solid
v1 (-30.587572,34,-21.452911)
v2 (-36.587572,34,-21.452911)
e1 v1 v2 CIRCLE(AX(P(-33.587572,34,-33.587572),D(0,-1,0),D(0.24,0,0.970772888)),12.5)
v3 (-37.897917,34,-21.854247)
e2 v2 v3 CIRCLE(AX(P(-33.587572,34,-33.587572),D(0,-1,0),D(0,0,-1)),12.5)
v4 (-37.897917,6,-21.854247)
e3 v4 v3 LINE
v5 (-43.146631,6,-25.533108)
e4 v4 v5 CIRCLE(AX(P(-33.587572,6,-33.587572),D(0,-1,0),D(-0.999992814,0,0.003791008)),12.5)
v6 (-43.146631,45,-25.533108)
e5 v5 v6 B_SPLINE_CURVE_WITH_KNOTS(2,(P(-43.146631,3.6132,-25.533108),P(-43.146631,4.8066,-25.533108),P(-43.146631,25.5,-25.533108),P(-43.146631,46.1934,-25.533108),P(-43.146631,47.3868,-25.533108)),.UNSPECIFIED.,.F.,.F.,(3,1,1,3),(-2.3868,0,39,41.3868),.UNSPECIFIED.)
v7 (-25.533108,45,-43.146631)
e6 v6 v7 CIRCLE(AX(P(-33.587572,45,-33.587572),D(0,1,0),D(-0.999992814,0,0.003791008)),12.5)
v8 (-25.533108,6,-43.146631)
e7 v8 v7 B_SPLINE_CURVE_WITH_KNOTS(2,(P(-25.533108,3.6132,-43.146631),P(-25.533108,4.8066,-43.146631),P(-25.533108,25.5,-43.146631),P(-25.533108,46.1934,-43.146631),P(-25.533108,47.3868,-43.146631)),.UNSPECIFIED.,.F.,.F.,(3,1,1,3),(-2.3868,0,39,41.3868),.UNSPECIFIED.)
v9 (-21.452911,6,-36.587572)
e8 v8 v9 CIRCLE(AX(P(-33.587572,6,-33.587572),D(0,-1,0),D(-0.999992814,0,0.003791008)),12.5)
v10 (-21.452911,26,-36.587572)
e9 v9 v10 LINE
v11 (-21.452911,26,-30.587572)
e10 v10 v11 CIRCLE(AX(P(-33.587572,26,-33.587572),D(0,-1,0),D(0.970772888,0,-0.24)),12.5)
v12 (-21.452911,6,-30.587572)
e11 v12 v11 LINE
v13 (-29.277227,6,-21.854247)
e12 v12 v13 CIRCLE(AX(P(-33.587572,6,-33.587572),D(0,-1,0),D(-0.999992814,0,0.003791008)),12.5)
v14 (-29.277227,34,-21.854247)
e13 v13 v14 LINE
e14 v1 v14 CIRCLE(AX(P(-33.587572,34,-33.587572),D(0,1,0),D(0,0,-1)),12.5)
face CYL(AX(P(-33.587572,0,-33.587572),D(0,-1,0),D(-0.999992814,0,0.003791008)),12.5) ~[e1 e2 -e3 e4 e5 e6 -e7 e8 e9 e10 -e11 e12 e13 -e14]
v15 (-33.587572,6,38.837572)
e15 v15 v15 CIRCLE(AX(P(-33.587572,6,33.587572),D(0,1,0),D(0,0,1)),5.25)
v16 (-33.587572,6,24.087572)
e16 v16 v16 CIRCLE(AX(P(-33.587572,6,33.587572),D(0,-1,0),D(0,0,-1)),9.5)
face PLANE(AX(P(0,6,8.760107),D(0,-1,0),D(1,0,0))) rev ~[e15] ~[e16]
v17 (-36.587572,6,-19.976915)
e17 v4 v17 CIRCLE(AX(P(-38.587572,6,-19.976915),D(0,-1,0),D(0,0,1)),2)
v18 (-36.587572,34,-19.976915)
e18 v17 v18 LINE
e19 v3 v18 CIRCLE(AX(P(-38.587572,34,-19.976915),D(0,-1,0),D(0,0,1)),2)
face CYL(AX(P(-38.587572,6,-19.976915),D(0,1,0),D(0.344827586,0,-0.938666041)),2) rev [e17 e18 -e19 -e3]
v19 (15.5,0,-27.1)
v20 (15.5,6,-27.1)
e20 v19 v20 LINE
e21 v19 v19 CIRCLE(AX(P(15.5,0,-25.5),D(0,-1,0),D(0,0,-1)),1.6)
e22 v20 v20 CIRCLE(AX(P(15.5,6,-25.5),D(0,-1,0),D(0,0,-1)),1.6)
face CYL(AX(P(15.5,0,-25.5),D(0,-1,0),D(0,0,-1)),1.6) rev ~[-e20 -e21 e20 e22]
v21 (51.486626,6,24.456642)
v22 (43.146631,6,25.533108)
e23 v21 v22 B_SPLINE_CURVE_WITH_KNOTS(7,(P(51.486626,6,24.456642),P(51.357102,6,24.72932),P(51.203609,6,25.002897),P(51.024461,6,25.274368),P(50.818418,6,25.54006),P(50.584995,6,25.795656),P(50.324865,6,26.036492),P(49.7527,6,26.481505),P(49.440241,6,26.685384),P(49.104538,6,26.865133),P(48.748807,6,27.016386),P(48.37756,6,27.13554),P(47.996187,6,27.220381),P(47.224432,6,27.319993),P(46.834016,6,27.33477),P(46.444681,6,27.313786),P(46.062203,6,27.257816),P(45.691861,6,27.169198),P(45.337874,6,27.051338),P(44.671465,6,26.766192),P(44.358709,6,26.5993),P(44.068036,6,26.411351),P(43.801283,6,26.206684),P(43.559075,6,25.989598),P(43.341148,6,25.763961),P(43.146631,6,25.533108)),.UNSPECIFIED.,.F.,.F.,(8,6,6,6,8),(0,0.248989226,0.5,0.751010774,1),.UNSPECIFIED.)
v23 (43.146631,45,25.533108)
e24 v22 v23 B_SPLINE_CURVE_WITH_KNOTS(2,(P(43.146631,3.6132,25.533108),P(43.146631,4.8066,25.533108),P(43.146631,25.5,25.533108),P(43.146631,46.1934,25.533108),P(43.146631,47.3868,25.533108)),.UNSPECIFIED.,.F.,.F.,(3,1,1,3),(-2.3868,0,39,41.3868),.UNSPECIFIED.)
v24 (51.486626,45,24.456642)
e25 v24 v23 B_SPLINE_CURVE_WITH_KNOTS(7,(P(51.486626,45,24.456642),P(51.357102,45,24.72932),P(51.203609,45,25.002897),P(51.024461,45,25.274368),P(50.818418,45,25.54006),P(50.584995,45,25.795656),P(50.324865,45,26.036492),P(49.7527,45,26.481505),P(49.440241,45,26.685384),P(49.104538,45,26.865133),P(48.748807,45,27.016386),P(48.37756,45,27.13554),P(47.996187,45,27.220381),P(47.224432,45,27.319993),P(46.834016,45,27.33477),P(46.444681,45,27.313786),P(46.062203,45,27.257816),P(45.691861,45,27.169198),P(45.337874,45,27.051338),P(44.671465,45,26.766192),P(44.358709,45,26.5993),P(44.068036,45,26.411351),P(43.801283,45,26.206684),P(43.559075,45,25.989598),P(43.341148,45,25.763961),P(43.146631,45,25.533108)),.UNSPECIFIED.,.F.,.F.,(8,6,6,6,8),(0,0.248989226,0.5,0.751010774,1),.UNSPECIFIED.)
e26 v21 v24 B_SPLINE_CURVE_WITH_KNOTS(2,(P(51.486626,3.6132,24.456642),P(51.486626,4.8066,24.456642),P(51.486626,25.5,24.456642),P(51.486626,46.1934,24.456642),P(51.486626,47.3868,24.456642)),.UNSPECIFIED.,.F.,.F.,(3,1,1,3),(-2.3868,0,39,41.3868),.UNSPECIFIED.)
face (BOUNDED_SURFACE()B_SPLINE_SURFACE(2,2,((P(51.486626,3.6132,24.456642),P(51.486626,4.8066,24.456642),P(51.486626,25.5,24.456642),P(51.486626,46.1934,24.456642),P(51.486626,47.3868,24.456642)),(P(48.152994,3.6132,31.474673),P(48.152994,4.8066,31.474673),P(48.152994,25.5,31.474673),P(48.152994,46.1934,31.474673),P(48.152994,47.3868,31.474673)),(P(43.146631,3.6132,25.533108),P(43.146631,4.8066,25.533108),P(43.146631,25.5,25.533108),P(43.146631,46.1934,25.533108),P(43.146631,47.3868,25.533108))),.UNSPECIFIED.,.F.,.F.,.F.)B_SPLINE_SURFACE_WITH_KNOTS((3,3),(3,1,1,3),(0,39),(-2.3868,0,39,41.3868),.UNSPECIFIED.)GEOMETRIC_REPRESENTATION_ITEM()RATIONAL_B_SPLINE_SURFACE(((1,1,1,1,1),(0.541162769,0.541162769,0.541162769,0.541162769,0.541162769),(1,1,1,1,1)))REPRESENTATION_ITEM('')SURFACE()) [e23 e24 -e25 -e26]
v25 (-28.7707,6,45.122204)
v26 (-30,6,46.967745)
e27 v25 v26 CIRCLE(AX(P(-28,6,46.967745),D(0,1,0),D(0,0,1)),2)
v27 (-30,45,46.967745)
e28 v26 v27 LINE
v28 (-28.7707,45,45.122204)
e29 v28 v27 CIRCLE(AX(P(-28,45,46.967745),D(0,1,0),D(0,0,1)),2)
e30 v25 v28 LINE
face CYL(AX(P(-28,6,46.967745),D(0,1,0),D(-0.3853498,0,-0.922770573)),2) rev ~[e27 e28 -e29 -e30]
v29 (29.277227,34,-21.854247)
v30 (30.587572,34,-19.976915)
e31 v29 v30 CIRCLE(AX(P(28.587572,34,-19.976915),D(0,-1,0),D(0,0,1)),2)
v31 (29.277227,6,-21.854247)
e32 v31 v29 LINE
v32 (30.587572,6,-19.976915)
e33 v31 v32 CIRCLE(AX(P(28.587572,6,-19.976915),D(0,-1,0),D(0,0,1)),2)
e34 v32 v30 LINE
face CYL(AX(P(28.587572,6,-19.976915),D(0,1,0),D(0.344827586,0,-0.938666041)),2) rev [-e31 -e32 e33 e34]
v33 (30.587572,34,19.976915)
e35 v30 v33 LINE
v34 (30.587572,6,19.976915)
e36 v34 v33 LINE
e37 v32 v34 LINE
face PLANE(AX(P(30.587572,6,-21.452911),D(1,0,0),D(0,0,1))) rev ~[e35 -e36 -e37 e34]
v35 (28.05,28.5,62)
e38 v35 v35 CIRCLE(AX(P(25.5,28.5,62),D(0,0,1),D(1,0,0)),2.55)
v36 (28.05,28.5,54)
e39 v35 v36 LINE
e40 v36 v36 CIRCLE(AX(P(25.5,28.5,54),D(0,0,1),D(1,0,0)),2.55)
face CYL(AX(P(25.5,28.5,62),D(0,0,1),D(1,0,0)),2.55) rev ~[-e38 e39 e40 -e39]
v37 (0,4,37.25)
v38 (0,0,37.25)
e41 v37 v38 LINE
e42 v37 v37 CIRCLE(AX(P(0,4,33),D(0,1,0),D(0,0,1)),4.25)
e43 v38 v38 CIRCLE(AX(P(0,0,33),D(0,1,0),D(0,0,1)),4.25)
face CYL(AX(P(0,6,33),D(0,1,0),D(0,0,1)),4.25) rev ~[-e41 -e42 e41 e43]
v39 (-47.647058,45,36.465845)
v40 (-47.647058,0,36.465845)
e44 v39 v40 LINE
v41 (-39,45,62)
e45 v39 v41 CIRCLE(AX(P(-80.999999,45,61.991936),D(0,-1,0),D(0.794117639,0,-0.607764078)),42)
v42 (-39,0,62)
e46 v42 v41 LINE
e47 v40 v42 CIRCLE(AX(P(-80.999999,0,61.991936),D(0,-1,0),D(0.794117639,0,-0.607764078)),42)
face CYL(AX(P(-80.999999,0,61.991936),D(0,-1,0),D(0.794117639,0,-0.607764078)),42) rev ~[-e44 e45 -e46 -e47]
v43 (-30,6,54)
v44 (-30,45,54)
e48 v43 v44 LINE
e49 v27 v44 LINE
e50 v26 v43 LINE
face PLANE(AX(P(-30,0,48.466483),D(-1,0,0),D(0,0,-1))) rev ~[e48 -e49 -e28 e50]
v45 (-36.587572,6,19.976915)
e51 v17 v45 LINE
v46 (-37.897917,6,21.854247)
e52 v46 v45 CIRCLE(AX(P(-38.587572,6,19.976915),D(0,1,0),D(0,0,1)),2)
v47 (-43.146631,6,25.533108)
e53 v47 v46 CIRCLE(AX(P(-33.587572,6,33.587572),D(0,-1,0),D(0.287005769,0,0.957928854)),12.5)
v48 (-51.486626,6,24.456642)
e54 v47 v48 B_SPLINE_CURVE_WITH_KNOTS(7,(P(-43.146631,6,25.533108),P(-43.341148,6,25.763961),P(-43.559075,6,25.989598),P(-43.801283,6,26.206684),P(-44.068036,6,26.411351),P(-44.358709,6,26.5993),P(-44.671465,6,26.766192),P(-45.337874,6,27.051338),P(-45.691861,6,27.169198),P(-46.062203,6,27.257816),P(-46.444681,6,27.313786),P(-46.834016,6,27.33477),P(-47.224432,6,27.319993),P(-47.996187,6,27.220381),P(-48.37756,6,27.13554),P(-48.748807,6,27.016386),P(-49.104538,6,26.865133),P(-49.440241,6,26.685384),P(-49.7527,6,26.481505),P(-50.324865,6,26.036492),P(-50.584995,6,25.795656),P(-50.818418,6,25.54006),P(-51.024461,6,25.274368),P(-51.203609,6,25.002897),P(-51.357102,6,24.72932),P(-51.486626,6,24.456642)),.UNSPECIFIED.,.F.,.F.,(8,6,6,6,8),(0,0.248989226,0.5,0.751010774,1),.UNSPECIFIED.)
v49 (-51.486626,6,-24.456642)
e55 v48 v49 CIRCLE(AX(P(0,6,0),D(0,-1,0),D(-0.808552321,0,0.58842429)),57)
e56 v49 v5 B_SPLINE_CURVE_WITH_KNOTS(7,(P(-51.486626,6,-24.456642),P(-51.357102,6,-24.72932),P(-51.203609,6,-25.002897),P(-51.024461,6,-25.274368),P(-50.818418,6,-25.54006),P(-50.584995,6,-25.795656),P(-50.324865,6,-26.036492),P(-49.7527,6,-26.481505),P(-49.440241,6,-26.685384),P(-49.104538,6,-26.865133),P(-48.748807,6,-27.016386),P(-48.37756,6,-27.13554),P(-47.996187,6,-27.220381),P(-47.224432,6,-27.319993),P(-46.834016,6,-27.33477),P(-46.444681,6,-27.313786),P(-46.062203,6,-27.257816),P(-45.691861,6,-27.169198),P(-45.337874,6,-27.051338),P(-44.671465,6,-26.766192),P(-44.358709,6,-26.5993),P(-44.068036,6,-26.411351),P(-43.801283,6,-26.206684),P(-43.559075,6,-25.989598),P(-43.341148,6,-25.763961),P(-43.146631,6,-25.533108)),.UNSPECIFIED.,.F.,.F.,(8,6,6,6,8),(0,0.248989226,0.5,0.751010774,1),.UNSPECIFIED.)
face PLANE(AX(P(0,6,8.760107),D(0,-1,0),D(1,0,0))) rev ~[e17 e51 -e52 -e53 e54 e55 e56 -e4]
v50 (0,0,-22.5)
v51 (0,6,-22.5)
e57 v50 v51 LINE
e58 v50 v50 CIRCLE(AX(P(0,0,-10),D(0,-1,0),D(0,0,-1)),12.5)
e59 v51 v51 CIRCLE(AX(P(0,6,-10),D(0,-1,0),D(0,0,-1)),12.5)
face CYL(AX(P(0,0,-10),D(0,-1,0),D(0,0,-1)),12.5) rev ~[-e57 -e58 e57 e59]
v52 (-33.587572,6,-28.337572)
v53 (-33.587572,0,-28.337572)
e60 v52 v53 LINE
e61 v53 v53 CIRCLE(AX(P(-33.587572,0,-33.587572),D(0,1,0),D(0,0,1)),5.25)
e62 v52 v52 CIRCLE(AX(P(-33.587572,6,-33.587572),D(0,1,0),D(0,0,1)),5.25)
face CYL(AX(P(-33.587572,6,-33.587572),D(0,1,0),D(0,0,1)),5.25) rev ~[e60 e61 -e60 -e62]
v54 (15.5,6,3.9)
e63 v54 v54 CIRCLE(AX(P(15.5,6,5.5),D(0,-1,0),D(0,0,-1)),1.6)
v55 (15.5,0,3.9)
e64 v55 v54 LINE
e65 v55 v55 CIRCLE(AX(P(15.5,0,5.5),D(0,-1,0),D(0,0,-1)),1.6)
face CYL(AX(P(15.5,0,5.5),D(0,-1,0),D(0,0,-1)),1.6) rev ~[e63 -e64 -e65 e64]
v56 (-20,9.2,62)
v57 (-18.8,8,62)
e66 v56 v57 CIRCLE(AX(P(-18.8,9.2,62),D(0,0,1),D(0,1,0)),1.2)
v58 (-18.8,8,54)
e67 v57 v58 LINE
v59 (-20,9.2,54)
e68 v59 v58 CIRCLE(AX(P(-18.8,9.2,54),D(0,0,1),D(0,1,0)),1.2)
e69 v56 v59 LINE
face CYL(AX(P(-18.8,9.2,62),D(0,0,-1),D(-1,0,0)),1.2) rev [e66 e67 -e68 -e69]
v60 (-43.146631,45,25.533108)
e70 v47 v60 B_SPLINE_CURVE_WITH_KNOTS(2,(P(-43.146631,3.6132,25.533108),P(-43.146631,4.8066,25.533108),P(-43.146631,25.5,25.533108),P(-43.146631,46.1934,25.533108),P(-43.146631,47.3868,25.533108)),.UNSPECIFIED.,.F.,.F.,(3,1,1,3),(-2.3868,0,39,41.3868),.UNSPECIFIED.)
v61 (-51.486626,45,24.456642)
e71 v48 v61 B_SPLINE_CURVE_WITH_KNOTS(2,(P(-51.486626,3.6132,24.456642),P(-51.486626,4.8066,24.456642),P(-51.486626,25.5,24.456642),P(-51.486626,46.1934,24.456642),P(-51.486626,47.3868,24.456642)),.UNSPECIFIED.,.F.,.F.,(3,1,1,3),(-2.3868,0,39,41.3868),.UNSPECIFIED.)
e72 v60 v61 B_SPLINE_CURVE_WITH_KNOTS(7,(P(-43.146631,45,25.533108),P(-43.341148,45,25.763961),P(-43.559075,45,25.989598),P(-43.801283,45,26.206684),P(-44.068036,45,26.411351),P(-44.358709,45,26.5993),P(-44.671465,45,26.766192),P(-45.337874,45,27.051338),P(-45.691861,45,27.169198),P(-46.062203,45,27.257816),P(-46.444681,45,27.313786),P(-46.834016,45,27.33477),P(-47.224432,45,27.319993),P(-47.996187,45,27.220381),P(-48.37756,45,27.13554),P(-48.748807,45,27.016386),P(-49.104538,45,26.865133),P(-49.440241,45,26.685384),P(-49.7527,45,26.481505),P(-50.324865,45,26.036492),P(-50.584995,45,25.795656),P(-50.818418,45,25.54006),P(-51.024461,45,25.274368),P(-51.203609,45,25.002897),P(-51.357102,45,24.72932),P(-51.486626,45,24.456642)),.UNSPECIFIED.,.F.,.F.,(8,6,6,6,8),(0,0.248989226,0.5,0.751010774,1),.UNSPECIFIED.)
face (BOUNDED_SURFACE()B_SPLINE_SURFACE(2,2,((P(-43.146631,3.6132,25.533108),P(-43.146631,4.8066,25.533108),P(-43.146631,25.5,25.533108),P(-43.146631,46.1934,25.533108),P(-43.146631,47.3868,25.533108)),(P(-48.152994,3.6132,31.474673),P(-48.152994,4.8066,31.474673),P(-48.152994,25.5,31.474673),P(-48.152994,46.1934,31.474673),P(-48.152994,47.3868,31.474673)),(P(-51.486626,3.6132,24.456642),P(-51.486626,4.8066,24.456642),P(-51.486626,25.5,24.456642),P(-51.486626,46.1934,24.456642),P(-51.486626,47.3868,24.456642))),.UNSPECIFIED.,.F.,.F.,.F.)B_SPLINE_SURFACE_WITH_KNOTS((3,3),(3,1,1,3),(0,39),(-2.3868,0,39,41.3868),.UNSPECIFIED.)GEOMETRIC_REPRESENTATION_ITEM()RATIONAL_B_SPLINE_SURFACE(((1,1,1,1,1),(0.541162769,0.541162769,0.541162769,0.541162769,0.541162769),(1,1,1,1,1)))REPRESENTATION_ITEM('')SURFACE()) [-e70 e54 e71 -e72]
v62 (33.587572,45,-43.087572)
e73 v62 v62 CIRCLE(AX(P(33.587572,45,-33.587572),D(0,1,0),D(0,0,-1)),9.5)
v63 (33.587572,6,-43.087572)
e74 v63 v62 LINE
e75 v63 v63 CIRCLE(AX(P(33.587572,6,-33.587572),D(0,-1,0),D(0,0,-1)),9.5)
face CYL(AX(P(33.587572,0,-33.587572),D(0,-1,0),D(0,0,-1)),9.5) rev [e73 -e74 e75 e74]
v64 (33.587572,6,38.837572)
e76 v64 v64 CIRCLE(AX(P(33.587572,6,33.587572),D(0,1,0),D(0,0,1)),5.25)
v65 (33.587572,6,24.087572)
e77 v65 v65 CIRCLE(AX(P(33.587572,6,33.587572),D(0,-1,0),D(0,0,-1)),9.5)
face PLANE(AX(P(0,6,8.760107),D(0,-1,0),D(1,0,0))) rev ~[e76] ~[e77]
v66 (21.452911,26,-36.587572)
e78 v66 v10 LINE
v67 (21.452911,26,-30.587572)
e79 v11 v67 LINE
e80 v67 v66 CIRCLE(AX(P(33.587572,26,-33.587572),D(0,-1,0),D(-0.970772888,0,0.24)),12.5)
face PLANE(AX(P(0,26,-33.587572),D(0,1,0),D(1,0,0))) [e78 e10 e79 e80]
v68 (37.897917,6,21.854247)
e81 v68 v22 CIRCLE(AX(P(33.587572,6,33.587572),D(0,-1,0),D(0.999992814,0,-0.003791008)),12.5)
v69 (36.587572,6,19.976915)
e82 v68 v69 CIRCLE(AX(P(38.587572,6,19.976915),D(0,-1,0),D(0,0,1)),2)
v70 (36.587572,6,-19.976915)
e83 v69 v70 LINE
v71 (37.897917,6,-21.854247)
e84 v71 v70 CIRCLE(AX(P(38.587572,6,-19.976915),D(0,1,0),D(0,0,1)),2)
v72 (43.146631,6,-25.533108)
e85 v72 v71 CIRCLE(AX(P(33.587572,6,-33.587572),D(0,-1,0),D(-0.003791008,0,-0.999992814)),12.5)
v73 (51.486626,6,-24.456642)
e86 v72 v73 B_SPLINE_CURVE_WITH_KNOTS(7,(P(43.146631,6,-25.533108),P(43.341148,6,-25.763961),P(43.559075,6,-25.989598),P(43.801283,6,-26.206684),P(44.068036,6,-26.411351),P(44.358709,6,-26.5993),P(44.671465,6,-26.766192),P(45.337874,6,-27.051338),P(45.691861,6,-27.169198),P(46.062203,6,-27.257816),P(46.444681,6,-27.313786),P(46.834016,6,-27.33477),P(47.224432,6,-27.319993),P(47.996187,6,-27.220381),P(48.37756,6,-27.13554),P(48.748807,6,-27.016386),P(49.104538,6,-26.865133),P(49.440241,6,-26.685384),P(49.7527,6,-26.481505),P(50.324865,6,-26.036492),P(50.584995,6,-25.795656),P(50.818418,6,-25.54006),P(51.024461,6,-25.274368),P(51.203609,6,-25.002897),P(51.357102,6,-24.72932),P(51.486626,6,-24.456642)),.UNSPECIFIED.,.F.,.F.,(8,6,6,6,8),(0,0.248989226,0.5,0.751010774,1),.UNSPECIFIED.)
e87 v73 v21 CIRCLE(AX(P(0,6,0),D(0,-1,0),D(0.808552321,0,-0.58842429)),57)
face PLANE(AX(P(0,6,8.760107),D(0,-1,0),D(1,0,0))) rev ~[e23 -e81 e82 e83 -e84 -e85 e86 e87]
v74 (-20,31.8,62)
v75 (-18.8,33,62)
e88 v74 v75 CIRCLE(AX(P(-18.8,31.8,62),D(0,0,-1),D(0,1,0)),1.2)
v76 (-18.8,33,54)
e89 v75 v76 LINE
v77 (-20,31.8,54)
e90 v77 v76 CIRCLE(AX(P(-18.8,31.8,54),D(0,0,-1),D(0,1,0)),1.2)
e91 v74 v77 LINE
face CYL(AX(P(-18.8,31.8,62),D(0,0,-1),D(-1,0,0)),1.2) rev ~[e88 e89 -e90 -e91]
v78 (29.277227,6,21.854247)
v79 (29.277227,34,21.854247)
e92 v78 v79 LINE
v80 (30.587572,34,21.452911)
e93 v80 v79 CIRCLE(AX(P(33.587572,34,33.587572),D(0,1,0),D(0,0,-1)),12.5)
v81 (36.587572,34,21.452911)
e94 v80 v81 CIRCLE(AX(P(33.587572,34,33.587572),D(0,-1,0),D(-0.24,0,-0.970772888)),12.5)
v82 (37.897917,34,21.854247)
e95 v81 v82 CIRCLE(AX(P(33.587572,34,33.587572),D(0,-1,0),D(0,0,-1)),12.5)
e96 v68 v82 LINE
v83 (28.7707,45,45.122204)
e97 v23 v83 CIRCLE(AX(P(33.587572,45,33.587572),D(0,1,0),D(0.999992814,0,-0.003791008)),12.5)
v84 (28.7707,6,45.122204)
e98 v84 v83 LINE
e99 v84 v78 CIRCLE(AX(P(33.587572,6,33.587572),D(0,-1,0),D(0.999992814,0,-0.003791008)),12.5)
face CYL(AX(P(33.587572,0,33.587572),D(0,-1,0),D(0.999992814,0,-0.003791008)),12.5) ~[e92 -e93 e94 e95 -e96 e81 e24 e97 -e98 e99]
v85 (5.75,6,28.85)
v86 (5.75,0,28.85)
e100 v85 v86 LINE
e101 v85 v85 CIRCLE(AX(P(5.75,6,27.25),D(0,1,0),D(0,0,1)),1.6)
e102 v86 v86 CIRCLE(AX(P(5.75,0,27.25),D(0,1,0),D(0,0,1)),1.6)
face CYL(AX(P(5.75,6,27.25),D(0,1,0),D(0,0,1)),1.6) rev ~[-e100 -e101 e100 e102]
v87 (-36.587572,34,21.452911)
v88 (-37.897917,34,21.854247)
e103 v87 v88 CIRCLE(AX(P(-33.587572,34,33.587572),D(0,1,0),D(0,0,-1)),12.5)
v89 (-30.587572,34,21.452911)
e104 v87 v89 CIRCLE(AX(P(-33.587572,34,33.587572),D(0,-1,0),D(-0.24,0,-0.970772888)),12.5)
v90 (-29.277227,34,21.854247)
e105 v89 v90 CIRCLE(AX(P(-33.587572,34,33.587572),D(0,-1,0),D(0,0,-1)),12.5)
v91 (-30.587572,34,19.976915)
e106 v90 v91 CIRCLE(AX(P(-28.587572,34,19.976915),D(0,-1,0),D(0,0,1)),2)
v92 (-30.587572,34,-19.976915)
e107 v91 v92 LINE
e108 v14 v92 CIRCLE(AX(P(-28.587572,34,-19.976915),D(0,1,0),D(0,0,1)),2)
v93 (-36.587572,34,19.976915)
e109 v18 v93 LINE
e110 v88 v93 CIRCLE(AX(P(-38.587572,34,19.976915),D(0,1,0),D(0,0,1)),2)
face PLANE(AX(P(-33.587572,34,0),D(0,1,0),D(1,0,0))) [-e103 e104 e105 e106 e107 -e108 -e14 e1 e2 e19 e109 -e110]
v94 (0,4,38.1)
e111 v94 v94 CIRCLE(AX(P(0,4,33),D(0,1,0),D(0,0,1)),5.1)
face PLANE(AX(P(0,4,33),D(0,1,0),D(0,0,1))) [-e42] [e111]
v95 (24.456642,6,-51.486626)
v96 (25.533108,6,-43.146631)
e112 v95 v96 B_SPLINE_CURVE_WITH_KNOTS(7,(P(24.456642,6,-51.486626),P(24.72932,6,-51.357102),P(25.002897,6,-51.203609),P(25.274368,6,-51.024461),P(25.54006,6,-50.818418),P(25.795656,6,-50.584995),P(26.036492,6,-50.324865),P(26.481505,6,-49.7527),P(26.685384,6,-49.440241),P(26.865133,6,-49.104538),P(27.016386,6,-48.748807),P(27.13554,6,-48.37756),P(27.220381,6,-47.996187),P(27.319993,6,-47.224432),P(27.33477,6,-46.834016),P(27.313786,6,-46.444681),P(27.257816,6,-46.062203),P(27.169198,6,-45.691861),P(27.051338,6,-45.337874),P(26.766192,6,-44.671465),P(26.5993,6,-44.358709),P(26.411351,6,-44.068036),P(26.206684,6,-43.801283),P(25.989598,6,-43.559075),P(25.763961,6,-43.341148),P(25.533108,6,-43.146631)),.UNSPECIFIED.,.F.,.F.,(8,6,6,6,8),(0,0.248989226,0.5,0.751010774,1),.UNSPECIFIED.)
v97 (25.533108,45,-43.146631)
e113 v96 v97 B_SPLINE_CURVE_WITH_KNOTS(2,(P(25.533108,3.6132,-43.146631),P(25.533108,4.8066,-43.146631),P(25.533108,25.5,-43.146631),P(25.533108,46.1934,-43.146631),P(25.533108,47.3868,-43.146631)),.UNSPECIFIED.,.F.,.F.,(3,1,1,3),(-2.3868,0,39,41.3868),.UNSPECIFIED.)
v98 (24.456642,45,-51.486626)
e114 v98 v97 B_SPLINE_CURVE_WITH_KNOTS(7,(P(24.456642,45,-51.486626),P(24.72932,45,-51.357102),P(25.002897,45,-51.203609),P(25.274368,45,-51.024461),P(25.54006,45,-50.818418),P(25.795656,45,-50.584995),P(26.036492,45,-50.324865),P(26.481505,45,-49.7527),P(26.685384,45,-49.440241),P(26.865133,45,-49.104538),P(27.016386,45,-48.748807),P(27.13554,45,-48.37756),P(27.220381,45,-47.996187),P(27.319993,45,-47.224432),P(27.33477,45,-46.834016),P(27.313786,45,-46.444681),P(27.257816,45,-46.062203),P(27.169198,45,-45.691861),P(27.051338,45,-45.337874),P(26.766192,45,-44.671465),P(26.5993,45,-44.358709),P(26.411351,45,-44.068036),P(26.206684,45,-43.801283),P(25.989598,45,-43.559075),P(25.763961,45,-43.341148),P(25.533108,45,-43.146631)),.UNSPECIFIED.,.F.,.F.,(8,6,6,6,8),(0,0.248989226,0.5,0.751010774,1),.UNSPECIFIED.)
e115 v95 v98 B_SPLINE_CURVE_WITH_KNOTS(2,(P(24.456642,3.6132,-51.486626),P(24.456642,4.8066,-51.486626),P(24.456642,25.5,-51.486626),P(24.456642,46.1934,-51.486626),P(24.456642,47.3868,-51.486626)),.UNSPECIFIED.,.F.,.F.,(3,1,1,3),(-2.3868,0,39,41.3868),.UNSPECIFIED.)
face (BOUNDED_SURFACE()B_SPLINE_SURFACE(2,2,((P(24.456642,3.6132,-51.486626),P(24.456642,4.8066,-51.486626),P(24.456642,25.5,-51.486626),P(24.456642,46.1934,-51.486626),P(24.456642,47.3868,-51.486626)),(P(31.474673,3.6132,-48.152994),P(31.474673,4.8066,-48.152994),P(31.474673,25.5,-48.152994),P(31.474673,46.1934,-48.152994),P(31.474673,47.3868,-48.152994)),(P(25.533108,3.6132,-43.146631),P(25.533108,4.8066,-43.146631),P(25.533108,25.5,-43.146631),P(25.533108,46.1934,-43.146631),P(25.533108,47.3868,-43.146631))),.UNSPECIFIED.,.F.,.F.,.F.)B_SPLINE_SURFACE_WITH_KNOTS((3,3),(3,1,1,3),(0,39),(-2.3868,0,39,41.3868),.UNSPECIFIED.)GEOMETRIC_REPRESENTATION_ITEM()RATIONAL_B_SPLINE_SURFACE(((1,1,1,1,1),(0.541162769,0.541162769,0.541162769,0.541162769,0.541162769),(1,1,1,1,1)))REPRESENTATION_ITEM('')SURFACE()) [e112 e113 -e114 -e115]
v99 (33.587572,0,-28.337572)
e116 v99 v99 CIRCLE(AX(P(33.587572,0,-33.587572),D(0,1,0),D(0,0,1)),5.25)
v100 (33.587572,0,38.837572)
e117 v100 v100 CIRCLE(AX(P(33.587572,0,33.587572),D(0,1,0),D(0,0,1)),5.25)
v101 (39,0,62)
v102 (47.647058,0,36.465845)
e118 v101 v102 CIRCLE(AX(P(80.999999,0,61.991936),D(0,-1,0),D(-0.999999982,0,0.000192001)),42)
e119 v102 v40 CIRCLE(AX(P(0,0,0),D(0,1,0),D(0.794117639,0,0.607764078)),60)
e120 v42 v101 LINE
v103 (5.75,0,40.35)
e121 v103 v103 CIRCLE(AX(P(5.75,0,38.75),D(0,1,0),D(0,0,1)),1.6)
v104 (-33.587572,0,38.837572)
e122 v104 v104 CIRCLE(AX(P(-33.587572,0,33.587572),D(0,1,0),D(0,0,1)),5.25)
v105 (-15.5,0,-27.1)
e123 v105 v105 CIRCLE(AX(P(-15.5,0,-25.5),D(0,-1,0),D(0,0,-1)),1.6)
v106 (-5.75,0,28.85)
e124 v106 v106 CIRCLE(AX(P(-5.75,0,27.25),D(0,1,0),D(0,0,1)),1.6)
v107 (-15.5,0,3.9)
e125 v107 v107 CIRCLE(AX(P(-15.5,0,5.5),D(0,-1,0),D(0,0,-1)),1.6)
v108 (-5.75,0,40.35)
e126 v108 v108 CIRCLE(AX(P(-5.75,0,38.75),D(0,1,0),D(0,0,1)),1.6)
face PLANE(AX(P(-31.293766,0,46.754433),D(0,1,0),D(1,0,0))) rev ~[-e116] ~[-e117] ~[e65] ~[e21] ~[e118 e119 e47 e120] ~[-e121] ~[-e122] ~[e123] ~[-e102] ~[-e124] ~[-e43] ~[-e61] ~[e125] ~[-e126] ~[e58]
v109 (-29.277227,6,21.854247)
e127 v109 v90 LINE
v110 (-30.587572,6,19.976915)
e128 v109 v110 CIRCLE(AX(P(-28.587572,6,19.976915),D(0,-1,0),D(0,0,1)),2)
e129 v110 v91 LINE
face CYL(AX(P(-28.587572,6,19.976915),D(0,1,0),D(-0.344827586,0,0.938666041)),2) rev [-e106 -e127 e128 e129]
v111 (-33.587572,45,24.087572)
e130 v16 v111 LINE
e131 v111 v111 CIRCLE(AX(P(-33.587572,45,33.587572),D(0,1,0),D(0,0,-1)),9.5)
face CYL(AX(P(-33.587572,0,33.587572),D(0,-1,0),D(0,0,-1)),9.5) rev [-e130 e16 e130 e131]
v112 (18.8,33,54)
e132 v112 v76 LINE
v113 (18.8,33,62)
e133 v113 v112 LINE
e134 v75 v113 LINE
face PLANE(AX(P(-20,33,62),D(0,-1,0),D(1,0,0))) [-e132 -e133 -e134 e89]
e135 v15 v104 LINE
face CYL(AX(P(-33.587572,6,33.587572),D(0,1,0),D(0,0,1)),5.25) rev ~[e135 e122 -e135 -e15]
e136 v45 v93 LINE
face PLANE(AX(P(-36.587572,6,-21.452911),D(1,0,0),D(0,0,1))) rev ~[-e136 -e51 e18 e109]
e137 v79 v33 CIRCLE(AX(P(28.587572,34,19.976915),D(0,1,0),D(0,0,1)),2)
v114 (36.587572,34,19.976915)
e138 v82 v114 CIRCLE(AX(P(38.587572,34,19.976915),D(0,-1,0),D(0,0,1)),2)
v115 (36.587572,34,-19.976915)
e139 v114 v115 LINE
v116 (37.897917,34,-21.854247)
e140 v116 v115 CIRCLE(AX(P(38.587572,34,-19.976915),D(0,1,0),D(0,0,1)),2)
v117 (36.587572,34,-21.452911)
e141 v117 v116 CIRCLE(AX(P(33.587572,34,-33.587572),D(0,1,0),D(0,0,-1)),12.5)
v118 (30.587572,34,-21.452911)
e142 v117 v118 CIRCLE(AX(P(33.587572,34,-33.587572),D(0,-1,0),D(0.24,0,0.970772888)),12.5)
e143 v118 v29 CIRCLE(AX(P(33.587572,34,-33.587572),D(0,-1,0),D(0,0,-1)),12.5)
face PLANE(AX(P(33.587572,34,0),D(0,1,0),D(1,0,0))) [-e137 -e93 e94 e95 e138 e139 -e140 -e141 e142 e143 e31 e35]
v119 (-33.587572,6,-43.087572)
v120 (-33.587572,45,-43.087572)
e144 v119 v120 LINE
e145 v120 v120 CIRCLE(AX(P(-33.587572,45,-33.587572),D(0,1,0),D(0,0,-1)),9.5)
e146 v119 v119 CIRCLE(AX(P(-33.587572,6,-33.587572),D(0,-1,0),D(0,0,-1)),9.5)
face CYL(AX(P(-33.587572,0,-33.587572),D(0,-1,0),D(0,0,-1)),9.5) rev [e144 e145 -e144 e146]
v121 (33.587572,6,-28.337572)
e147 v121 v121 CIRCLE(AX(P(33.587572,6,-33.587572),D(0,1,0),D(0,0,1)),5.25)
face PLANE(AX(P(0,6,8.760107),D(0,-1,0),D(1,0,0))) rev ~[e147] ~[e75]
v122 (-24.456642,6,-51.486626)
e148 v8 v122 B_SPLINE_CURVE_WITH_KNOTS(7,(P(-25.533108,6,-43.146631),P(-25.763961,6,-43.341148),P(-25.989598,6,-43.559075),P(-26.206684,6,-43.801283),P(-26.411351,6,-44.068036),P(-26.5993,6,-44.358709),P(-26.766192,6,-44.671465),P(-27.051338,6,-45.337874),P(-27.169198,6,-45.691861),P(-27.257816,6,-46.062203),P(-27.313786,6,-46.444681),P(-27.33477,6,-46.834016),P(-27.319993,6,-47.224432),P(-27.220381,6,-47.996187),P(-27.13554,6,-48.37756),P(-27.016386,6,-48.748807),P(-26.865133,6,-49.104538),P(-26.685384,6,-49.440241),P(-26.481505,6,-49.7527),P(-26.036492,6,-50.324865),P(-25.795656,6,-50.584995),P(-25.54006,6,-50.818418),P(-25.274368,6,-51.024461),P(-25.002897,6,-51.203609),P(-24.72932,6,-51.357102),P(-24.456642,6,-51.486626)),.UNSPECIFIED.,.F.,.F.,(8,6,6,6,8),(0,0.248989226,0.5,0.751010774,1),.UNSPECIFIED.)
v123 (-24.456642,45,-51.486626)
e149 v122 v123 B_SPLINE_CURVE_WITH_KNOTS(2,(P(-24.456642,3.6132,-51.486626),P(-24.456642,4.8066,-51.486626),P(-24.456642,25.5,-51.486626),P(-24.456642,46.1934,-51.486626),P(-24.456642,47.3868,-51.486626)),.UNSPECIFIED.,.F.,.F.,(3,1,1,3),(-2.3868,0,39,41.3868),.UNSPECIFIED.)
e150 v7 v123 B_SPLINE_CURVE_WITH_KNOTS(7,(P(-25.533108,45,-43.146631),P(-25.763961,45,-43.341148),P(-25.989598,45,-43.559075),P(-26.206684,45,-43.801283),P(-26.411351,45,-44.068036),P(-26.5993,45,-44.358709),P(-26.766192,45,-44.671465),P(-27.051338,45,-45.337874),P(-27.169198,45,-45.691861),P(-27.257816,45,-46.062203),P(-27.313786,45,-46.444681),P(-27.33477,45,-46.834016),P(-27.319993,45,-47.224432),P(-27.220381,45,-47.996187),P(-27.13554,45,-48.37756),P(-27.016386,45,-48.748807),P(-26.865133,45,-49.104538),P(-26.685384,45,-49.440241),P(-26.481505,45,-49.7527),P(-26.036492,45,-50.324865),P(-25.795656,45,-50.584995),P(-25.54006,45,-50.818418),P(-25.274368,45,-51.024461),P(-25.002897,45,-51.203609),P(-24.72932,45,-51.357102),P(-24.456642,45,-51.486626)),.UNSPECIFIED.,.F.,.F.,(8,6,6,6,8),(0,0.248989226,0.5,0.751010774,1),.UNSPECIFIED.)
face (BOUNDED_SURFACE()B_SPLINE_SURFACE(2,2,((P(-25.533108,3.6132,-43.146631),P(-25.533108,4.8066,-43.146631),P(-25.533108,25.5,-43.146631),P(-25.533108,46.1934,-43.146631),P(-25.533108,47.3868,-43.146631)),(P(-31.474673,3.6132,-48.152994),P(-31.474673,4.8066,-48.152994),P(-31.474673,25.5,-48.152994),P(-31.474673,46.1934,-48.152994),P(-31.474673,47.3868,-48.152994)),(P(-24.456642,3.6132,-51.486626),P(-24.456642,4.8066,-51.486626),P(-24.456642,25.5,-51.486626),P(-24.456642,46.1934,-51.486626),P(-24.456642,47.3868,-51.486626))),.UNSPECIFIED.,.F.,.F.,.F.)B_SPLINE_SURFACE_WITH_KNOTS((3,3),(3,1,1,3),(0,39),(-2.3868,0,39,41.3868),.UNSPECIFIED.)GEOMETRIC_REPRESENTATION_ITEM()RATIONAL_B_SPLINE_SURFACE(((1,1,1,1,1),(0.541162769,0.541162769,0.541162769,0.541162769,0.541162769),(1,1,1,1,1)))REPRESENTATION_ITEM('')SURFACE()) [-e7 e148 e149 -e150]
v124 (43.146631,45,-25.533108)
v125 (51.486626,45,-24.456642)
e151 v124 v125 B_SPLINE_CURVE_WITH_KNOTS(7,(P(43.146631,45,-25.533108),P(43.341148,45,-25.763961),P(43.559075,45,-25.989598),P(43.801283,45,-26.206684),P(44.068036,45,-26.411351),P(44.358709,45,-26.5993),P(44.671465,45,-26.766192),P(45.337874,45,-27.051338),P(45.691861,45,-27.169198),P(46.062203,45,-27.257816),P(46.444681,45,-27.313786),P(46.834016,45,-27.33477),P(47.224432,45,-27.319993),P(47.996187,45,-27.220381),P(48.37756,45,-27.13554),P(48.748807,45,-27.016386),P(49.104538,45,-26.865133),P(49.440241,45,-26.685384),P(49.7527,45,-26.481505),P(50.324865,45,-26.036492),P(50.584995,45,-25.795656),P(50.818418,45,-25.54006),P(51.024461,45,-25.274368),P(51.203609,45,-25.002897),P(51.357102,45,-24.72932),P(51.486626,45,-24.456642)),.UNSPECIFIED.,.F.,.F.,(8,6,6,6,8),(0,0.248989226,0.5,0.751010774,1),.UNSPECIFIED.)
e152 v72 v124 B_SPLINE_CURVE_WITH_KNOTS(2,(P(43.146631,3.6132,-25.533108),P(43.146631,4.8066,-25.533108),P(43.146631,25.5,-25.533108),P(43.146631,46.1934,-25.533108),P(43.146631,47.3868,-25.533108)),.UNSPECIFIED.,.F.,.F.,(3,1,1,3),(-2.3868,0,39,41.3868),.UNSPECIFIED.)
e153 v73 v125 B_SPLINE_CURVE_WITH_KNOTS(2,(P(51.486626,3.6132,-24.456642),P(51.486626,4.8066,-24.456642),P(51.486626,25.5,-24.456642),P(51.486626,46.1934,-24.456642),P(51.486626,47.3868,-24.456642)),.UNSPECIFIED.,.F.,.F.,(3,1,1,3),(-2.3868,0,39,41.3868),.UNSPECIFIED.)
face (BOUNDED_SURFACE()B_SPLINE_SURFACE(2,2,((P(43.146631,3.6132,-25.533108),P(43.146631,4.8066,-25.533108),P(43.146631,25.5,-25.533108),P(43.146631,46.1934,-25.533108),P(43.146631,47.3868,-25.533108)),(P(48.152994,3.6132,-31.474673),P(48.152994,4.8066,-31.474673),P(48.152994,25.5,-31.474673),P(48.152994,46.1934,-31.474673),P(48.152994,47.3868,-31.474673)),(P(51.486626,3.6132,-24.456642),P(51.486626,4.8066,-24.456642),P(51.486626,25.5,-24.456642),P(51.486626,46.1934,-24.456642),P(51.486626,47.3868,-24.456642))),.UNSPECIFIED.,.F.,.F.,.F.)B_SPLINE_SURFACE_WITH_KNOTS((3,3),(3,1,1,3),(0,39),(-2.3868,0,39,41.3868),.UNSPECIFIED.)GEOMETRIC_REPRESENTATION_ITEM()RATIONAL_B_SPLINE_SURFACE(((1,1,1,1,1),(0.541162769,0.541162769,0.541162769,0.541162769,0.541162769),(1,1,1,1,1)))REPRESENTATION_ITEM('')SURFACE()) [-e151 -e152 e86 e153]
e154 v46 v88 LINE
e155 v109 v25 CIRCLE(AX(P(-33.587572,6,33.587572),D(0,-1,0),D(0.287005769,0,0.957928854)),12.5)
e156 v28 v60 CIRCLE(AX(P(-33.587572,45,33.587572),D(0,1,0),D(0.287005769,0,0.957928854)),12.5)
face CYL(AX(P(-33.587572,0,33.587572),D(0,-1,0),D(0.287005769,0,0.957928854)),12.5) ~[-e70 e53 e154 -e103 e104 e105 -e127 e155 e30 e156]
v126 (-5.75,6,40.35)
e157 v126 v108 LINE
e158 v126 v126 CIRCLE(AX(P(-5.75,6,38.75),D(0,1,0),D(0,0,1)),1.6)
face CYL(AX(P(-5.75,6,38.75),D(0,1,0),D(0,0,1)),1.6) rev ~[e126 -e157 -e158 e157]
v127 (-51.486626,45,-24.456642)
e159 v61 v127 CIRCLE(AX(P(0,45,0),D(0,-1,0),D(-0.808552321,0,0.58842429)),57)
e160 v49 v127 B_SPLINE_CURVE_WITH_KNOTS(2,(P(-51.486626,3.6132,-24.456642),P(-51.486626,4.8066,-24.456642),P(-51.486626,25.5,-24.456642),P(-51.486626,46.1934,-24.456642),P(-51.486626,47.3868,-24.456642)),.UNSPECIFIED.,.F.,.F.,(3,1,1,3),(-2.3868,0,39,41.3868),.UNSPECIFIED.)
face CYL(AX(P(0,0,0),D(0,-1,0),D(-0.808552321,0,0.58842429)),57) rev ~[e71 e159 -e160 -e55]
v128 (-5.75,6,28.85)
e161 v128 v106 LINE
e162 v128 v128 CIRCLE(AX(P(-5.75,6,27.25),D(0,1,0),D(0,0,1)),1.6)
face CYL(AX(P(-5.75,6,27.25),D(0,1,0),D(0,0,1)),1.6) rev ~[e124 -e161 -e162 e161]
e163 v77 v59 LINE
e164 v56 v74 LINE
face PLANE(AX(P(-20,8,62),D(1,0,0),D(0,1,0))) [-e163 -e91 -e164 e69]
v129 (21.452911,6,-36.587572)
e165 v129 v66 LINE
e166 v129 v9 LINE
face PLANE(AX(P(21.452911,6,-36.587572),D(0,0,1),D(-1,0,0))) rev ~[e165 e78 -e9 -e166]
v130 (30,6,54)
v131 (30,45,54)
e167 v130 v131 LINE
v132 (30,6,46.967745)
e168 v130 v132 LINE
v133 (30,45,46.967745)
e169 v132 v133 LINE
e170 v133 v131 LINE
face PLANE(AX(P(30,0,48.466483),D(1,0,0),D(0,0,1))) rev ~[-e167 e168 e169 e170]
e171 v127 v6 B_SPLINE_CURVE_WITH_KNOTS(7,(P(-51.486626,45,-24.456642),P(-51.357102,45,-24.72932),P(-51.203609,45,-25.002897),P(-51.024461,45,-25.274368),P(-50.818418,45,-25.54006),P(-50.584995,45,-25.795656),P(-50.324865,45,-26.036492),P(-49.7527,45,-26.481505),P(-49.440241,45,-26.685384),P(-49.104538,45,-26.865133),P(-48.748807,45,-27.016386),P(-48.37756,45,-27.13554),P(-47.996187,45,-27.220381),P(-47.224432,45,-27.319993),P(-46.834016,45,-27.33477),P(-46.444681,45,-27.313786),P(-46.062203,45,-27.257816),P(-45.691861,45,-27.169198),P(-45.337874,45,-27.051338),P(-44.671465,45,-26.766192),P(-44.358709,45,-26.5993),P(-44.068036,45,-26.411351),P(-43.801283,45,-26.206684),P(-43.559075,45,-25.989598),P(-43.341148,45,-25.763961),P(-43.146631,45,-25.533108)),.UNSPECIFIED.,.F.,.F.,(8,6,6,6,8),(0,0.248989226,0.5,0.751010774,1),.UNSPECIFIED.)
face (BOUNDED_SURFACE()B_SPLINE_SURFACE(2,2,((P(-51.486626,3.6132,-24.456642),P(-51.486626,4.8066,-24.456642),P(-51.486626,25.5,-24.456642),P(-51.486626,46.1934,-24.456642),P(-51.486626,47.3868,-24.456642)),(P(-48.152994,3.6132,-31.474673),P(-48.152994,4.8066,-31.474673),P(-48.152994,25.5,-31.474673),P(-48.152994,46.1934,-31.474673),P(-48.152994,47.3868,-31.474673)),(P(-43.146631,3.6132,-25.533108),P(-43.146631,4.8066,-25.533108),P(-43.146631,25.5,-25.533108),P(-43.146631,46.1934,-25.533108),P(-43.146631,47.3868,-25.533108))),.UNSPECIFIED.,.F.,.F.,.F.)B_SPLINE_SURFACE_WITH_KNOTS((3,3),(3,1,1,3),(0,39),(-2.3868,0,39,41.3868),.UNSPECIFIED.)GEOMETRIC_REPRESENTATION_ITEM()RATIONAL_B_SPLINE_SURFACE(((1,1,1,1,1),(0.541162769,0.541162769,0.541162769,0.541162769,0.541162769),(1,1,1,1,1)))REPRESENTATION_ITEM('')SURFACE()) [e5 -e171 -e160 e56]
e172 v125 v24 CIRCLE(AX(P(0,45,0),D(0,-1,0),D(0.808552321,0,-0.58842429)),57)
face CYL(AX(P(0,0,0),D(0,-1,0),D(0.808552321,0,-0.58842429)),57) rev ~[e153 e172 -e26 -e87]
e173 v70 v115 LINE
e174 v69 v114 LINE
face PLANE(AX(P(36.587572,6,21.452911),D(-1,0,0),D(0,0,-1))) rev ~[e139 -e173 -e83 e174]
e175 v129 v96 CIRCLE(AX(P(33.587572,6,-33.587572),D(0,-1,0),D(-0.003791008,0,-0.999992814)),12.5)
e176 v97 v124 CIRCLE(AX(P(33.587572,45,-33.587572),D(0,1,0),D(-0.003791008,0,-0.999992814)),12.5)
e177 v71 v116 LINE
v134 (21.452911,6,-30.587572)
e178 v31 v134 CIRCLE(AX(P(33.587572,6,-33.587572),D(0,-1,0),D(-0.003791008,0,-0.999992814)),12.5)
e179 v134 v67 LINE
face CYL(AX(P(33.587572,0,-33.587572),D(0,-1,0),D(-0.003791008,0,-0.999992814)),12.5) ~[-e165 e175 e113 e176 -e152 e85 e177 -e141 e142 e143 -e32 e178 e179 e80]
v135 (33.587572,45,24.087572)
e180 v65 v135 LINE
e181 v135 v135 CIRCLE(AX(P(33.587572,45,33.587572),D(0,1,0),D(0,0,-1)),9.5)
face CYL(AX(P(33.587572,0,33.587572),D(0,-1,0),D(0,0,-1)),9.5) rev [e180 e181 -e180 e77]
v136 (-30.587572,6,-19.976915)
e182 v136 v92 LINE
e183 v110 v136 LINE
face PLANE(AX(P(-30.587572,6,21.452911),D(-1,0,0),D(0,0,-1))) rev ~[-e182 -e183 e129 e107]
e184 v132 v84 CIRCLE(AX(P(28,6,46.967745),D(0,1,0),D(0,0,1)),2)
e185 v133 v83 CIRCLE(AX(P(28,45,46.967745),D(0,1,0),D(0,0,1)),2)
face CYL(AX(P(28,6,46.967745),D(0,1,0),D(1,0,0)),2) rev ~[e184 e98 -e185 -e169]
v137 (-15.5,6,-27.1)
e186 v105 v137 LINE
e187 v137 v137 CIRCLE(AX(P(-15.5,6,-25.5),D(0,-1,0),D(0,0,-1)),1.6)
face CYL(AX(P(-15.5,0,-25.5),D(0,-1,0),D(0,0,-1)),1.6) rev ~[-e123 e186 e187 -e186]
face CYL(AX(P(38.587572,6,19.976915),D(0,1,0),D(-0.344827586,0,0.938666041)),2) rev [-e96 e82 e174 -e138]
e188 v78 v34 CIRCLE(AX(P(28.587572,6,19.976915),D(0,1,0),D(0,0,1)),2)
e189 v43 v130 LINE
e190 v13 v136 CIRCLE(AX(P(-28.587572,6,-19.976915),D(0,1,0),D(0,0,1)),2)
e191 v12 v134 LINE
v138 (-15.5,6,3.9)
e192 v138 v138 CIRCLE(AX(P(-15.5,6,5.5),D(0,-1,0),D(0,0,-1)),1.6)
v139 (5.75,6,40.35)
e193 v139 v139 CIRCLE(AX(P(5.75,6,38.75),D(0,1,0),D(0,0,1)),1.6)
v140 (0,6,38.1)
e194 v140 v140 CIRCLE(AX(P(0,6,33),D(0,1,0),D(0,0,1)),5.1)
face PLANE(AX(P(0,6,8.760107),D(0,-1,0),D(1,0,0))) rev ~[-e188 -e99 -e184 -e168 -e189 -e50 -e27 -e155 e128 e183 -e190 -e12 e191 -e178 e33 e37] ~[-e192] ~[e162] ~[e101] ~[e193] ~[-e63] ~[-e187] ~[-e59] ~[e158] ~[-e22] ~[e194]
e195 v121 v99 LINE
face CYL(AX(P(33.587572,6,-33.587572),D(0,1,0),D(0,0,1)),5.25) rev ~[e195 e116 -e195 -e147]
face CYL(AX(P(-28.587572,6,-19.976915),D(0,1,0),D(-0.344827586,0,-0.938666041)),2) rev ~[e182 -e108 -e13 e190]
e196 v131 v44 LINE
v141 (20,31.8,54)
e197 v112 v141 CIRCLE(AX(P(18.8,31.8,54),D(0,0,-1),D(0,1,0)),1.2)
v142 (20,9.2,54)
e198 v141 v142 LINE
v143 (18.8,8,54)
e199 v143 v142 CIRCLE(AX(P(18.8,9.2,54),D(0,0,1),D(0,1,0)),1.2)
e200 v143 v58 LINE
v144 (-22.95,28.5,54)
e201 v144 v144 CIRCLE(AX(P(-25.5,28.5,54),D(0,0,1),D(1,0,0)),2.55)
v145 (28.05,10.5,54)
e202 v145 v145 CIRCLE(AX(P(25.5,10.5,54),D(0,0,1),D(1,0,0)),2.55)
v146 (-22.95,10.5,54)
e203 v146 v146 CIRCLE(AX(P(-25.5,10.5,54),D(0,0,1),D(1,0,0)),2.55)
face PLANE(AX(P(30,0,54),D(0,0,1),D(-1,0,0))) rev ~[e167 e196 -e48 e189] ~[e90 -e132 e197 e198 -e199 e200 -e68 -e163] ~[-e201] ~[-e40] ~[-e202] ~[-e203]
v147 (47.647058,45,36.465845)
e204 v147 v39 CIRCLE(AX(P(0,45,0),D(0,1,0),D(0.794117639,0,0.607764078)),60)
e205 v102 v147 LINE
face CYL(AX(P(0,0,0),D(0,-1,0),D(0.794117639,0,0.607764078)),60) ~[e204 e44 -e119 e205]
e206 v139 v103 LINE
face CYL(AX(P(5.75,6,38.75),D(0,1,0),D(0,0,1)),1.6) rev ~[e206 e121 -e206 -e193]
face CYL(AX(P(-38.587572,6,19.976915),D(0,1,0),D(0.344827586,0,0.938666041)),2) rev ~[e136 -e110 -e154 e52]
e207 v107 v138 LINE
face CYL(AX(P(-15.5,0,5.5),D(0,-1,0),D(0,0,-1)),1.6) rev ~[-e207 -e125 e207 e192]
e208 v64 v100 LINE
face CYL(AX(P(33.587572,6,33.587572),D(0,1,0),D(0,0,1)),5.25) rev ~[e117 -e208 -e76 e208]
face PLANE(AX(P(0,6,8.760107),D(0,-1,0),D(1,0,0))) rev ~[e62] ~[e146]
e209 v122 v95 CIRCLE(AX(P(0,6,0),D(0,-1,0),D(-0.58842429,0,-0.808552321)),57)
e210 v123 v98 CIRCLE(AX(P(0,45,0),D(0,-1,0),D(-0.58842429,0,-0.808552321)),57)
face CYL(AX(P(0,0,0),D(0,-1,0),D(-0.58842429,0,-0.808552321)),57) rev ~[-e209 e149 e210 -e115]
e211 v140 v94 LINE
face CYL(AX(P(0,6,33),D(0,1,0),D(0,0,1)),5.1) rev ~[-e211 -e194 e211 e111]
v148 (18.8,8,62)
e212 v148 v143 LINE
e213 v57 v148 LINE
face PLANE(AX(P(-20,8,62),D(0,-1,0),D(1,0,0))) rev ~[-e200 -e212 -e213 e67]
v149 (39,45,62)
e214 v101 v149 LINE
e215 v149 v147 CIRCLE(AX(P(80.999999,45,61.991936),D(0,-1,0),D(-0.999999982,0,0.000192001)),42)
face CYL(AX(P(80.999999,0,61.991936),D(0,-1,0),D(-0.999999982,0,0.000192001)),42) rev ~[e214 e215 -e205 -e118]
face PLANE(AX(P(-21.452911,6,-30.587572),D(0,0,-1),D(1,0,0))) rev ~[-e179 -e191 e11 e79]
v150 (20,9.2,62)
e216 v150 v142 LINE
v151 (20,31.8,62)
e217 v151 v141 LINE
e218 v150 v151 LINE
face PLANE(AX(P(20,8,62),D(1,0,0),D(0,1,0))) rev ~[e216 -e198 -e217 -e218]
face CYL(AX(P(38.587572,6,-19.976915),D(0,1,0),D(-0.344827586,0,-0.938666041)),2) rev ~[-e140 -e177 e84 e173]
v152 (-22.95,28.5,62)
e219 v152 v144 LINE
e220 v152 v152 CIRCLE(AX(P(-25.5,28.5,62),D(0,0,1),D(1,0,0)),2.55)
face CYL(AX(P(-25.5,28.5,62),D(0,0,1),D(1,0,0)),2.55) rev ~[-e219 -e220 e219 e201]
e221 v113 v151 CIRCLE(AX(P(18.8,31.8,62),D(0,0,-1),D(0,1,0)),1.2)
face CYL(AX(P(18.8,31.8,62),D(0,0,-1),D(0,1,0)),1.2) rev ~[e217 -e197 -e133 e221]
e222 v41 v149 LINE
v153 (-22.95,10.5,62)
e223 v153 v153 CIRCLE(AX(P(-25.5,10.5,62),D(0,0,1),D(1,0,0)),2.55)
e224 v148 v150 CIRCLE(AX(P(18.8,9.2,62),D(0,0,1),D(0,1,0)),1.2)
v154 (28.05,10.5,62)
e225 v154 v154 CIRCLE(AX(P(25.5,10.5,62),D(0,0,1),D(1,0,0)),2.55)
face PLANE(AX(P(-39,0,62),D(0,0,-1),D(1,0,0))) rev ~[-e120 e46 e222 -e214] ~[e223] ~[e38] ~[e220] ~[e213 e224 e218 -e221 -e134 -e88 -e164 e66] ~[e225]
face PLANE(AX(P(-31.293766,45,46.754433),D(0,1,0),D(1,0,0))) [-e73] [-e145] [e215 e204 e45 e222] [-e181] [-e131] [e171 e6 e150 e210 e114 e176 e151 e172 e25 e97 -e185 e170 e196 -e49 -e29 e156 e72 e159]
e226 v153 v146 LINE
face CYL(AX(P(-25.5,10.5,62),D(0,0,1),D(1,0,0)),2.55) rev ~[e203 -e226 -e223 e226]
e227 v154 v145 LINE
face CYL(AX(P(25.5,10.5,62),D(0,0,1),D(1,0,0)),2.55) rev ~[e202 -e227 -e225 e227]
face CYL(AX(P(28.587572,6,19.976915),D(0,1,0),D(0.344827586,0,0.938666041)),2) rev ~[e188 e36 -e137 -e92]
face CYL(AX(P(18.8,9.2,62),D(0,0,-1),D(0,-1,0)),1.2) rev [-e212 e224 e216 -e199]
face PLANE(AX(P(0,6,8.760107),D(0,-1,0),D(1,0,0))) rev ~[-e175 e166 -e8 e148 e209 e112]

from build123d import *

# Parameters (mm, degrees)
SKETCH1_R           = 9.5
BOSS_EXTRUDE1_DEPTH = 45
BOSS_EXTRUDE2_DEPTH = 6
SKETCH3_R           = 5.25
SKETCH3_R_2         = 4.25
SKETCH3_R_3         = 1.6
CUT_EXTRUDE1_DEPTH  = 95.683683917
FILLET1_R           = 5
SKETCH4_R           = 5.1
CUT_EXTRUDE2_DEPTH  = 2
SKETCH5_R           = 12.5
SKETCH5_R_2         = 1.6
CUT_EXTRUDE3_DEPTH  = 98.308787031
CUT_EXTRUDE4_REACH  = 145.21
SKETCH6_W           = 40
SKETCH6_H           = 25
CUT_EXTRUDE5_REACH  = 145.21
SKETCH7_R           = 2.55
BOSS_EXTRUDE3_DEPTH = 28
FILLET2_R           = 2
BOSS_EXTRUDE4_DEPTH = 20
FILLET3_R           = 1.2


with BuildPart() as part:
    # Sketch1 → Boss-Extrude1 (new body)
    # profile 1 of 3: a face of its own
    with BuildSketch(Plane(origin=(0, 0, 0), x_dir=(1, 0, 0), z_dir=(0, 1, 0))):
        with BuildLine():
            ThreePointArc((-47.647058368, -36.465844689), (-41.21916632, -48.520286728), (-39, -62))
            Line((-39, -62), (39, -62))
            ThreePointArc((39, -62), (41.21916632, -48.520286728), (47.647058368, -36.465844689))
            ThreePointArc((47.647058368, -36.465844689), (0, 60), (-47.647058368, -36.465844689))
        make_face()
        with Locations(Location((-33.587572106, -33.587572106, 0), (0, 0, 90))):
            Circle(SKETCH1_R, mode=Mode.SUBTRACT)
        with Locations(Location((33.587572106, -33.587572106, 0), (0, 0, 90))):
            Circle(SKETCH1_R, mode=Mode.SUBTRACT)
        with BuildLine():
            Line((30, -54), (-30, -54))
            Line((-30, -54), (-30, -48.466483264))
            ThreePointArc((-30, -48.466483264), (-31.792352433, -47.310108082), (-33.540184508, -46.087482283))
            ThreePointArc((-33.540184508, -46.087482283), (-31.751176372, -45.951942317), (-30, -45.561682778))
            ThreePointArc((-30, -45.561682778), (-26.105156211, -23.574408152), (-46.087482283, -33.540184508))
            ThreePointArc((-46.087482283, -33.540184508), (-57, 0), (-46.087482283, 33.540184508))
            ThreePointArc((-46.087482283, 33.540184508), (-24.748737342, 24.748737342), (-33.540184508, 46.087482283))
            ThreePointArc((-33.540184508, 46.087482283), (0, 57), (33.540184508, 46.087482283))
            ThreePointArc((33.540184508, 46.087482283), (24.748737342, 24.748737342), (46.087482283, 33.540184508))
            ThreePointArc((46.087482283, 33.540184508), (57, 0), (46.087482283, -33.540184508))
            ThreePointArc((46.087482283, -33.540184508), (26.105156211, -23.574408152), (30, -45.561682778))
            ThreePointArc((30, -45.561682778), (31.751176372, -45.951942317), (33.540184508, -46.087482283))
            ThreePointArc((33.540184508, -46.087482283), (31.792352433, -47.310108082), (30, -48.466483264))
            Line((30, -48.466483264), (30, -54))
        make_face(mode=Mode.SUBTRACT)
        with Locations(Location((-33.587572106, 33.587572106, 0), (0, 0, 90))):
            Circle(SKETCH1_R, mode=Mode.SUBTRACT)
        with Locations(Location((33.587572106, 33.587572106, 0), (0, 0, 90))):
            Circle(SKETCH1_R, mode=Mode.SUBTRACT)
    # profile 2 of 3: a face of its own
    with BuildSketch(Plane(origin=(0, 0, 0), x_dir=(1, 0, 0), z_dir=(0, 1, 0))):
        with BuildLine():
            Line((30, -45.561682778), (30, -48.466483264))
            ThreePointArc((30, -48.466483264), (31.792352433, -47.310108082), (33.540184508, -46.087482283))
            ThreePointArc((33.540184508, -46.087482283), (31.751176372, -45.951942317), (30, -45.561682778))
        make_face()
    # profile 3 of 3: a face of its own
    with BuildSketch(Plane(origin=(0, 0, 0), x_dir=(1, 0, 0), z_dir=(0, 1, 0))):
        with BuildLine():
            ThreePointArc((-33.540184508, -46.087482283), (-31.792352433, -47.310108082), (-30, -48.466483264))
            Line((-30, -48.466483264), (-30, -45.561682778))
            ThreePointArc((-30, -45.561682778), (-31.751176372, -45.951942317), (-33.540184508, -46.087482283))
        make_face()
    extrude(amount=BOSS_EXTRUDE1_DEPTH)

    # Sketch2 → Boss-Extrude2 (add)
    with BuildSketch(Plane.XZ):
        with BuildLine():
            Line((39, 62), (-39, 62))
            ThreePointArc((-39, 62), (-41.21916632, 48.520286728), (-47.647058368, 36.465844689))
            ThreePointArc((-47.647058368, 36.465844689), (0, -60), (47.647058368, 36.465844689))
            ThreePointArc((47.647058368, 36.465844689), (41.21916632, 48.520286728), (39, 62))
        make_face()
    extrude(amount=-BOSS_EXTRUDE2_DEPTH)

    # Sketch3 → Cut-Extrude1 (cut, through all)
    with BuildSketch(Plane(origin=(0, 6, 0), x_dir=(1, 0, 0), z_dir=(0, 1, 0))):
        with Locations(Location((-33.587572106, 33.587572106, 0), (0, 0, 270))):
            Circle(SKETCH3_R)
        with Locations(Location((33.587572106, 33.587572106, 0), (0, 0, 270))):
            Circle(SKETCH3_R)
        with Locations(Location((33.587572106, -33.587572106, 0), (0, 0, 270))):
            Circle(SKETCH3_R)
        with Locations(Location((-33.587572106, -33.587572106, 0), (0, 0, 270))):
            Circle(SKETCH3_R)
        with Locations(Location((0, -33, 0), (0, 0, 270))):
            Circle(SKETCH3_R_2)
        with Locations(Location((-5.75, -27.25, 0), (0, 0, 270))):
            Circle(SKETCH3_R_3)
        with Locations(Location((5.75, -27.25, 0), (0, 0, 270))):
            Circle(SKETCH3_R_3)
        with Locations(Location((5.75, -38.75, 0), (0, 0, 270))):
            Circle(SKETCH3_R_3)
        with Locations(Location((-5.75, -38.75, 0), (0, 0, 270))):
            Circle(SKETCH3_R_3)
    extrude(amount=-CUT_EXTRUDE1_DEPTH, mode=Mode.SUBTRACT)

    # Fillet1
    fillet1_edges = [part.edges().sort_by_distance(p)[0] for p in [
        (46.087482283, 25.5, 33.540184508),
        (46.087482283, 25.5, -33.540184508),
        (33.540184508, 25.5, -46.087482283),
        (-33.540184508, 25.5, -46.087482283),
        (-46.087482283, 25.5, -33.540184508),
        (-46.087482283, 25.5, 33.540184508),
    ]]
    fillet(fillet1_edges, radius=FILLET1_R)

    # Sketch4 → Cut-Extrude2 (cut)
    with BuildSketch(Plane(origin=(0, 6, 0), x_dir=(1, 0, 0), z_dir=(0, 1, 0))):
        with Locations(Location((0, -33, 0), (0, 0, 270))):
            Circle(SKETCH4_R)
    extrude(amount=-CUT_EXTRUDE2_DEPTH, mode=Mode.SUBTRACT)

    # Sketch5 → Cut-Extrude3 (cut, through all)
    with BuildSketch(Plane.XZ):
        with Locations(Location((0, -10, 0), (0, 0, 270))):
            Circle(SKETCH5_R)
        with Locations(Location((15.5, 5.5, 0), (0, 0, 270))):
            Circle(SKETCH5_R_2)
        with Locations(Location((-15.5, 5.5, 0), (0, 0, 270))):
            Circle(SKETCH5_R_2)
        with Locations(Location((-15.5, -25.5, 0), (0, 0, 270))):
            Circle(SKETCH5_R_2)
        with Locations(Location((15.5, -25.5, 0), (0, 0, 270))):
            Circle(SKETCH5_R_2)
    extrude(amount=-CUT_EXTRUDE3_DEPTH, mode=Mode.SUBTRACT)

    # Sketch6 → Cut-Extrude4 (cut, up to next)
    with BuildSketch(Plane.XY.offset(62), mode=Mode.PRIVATE) as cut_extrude4_sk1:
        with Locations((0, 20.5)):
            Rectangle(SKETCH6_W, SKETCH6_H)
    cut_extrude4_tool1 = extrude(cut_extrude4_sk1.sketch, amount=-CUT_EXTRUDE4_REACH, mode=Mode.PRIVATE) & part.part
    add(cut_extrude4_tool1.solids().sort_by_distance((0, 20.5, 62))[0], mode=Mode.SUBTRACT)

    # Sketch7 → Cut-Extrude5 (cut, up to next)
    with BuildSketch(Plane.XY.offset(62), mode=Mode.PRIVATE) as cut_extrude5_sk1:
        with Locations((-25.5, 10.5)):
            Circle(SKETCH7_R)
    cut_extrude5_tool1 = extrude(cut_extrude5_sk1.sketch, amount=-CUT_EXTRUDE5_REACH, mode=Mode.PRIVATE) & part.part
    # Sketch7 → Cut-Extrude5 (cut, up to next)
    with BuildSketch(Plane.XY.offset(62), mode=Mode.PRIVATE) as cut_extrude5_sk2:
        with Locations((25.5, 10.5)):
            Circle(SKETCH7_R)
    cut_extrude5_tool2 = extrude(cut_extrude5_sk2.sketch, amount=-CUT_EXTRUDE5_REACH, mode=Mode.PRIVATE) & part.part
    # Sketch7 → Cut-Extrude5 (cut, up to next)
    with BuildSketch(Plane.XY.offset(62), mode=Mode.PRIVATE) as cut_extrude5_sk3:
        with Locations((25.5, 28.5)):
            Circle(SKETCH7_R)
    cut_extrude5_tool3 = extrude(cut_extrude5_sk3.sketch, amount=-CUT_EXTRUDE5_REACH, mode=Mode.PRIVATE) & part.part
    # Sketch7 → Cut-Extrude5 (cut, up to next)
    with BuildSketch(Plane.XY.offset(62), mode=Mode.PRIVATE) as cut_extrude5_sk4:
        with Locations((-25.5, 28.5)):
            Circle(SKETCH7_R)
    cut_extrude5_tool4 = extrude(cut_extrude5_sk4.sketch, amount=-CUT_EXTRUDE5_REACH, mode=Mode.PRIVATE) & part.part
    add(cut_extrude5_tool1.solids().sort_by_distance((-25.5, 10.5, 62))[0], mode=Mode.SUBTRACT)
    add(cut_extrude5_tool2.solids().sort_by_distance((25.5, 10.5, 62))[0], mode=Mode.SUBTRACT)
    add(cut_extrude5_tool3.solids().sort_by_distance((25.5, 28.5, 62))[0], mode=Mode.SUBTRACT)
    add(cut_extrude5_tool4.solids().sort_by_distance((-25.5, 28.5, 62))[0], mode=Mode.SUBTRACT)

    # Sketch8 → Boss-Extrude3 (add)
    with BuildSketch(Plane(origin=(0, 6, 0), x_dir=(1, 0, 0), z_dir=(0, 1, 0))):
        with BuildLine():
            Line((-36.587572106, 21.452911007), (-36.587572106, -21.452911007))
            ThreePointArc((-36.587572106, -21.452911007), (-33.587572106, -21.087572106), (-30.587572106, -21.452911007))
            Line((-30.587572106, -21.452911007), (-30.587572106, 21.452911007))
            ThreePointArc((-30.587572106, 21.452911007), (-33.587572106, 21.087572106), (-36.587572106, 21.452911007))
        make_face()
        with BuildLine():
            Line((30.587572106, 21.452911007), (30.587572106, -21.452911007))
            ThreePointArc((30.587572106, -21.452911007), (33.587572106, -21.087572106), (36.587572106, -21.452911007))
            Line((36.587572106, -21.452911007), (36.587572106, 21.452911007))
            ThreePointArc((36.587572106, 21.452911007), (33.587572106, 21.087572106), (30.587572106, 21.452911007))
        make_face()
    extrude(amount=BOSS_EXTRUDE3_DEPTH)

    # Fillet2
    fillet2_edges = [part.edges().sort_by_distance(p)[0] for p in [
        (-30.587572106, 20, -21.452911007),
        (-36.587572106, 20, -21.452911007),
        (-36.587572106, 20, 21.452911007),
        (-30.587572106, 20, 21.452911007),
        (30.587572106, 20, 21.452911007),
        (36.587572106, 20, 21.452911007),
        (36.587572106, 20, -21.452911007),
        (30.587572106, 20, -21.452911007),
        (30, 25.5, 45.561682778),
        (-30, 25.5, 45.561682778),
    ]]
    fillet(fillet2_edges, radius=FILLET2_R)

    # Sketch9 → Boss-Extrude4 (add)
    with BuildSketch(Plane(origin=(0, 6, 0), x_dir=(1, 0, 0), z_dir=(0, 1, 0))):
        with BuildLine():
            Line((-21.452911007, 30.587572106), (21.452911007, 30.587572106))
            ThreePointArc((21.452911007, 30.587572106), (21.087572106, 33.587572106), (21.452911007, 36.587572106))
            Line((21.452911007, 36.587572106), (-21.452911007, 36.587572106))
            ThreePointArc((-21.452911007, 36.587572106), (-21.087572106, 33.587572106), (-21.452911007, 30.587572106))
        make_face()
    extrude(amount=BOSS_EXTRUDE4_DEPTH)

    # Fillet3
    fillet3_edges = [part.edges().sort_by_distance(p)[0] for p in [
        (20, 33, 58),
        (20, 8, 58),
        (-20, 8, 58),
        (-20, 33, 58),
    ]]
    fillet(fillet3_edges, radius=FILLET3_R)


solid = part.part
